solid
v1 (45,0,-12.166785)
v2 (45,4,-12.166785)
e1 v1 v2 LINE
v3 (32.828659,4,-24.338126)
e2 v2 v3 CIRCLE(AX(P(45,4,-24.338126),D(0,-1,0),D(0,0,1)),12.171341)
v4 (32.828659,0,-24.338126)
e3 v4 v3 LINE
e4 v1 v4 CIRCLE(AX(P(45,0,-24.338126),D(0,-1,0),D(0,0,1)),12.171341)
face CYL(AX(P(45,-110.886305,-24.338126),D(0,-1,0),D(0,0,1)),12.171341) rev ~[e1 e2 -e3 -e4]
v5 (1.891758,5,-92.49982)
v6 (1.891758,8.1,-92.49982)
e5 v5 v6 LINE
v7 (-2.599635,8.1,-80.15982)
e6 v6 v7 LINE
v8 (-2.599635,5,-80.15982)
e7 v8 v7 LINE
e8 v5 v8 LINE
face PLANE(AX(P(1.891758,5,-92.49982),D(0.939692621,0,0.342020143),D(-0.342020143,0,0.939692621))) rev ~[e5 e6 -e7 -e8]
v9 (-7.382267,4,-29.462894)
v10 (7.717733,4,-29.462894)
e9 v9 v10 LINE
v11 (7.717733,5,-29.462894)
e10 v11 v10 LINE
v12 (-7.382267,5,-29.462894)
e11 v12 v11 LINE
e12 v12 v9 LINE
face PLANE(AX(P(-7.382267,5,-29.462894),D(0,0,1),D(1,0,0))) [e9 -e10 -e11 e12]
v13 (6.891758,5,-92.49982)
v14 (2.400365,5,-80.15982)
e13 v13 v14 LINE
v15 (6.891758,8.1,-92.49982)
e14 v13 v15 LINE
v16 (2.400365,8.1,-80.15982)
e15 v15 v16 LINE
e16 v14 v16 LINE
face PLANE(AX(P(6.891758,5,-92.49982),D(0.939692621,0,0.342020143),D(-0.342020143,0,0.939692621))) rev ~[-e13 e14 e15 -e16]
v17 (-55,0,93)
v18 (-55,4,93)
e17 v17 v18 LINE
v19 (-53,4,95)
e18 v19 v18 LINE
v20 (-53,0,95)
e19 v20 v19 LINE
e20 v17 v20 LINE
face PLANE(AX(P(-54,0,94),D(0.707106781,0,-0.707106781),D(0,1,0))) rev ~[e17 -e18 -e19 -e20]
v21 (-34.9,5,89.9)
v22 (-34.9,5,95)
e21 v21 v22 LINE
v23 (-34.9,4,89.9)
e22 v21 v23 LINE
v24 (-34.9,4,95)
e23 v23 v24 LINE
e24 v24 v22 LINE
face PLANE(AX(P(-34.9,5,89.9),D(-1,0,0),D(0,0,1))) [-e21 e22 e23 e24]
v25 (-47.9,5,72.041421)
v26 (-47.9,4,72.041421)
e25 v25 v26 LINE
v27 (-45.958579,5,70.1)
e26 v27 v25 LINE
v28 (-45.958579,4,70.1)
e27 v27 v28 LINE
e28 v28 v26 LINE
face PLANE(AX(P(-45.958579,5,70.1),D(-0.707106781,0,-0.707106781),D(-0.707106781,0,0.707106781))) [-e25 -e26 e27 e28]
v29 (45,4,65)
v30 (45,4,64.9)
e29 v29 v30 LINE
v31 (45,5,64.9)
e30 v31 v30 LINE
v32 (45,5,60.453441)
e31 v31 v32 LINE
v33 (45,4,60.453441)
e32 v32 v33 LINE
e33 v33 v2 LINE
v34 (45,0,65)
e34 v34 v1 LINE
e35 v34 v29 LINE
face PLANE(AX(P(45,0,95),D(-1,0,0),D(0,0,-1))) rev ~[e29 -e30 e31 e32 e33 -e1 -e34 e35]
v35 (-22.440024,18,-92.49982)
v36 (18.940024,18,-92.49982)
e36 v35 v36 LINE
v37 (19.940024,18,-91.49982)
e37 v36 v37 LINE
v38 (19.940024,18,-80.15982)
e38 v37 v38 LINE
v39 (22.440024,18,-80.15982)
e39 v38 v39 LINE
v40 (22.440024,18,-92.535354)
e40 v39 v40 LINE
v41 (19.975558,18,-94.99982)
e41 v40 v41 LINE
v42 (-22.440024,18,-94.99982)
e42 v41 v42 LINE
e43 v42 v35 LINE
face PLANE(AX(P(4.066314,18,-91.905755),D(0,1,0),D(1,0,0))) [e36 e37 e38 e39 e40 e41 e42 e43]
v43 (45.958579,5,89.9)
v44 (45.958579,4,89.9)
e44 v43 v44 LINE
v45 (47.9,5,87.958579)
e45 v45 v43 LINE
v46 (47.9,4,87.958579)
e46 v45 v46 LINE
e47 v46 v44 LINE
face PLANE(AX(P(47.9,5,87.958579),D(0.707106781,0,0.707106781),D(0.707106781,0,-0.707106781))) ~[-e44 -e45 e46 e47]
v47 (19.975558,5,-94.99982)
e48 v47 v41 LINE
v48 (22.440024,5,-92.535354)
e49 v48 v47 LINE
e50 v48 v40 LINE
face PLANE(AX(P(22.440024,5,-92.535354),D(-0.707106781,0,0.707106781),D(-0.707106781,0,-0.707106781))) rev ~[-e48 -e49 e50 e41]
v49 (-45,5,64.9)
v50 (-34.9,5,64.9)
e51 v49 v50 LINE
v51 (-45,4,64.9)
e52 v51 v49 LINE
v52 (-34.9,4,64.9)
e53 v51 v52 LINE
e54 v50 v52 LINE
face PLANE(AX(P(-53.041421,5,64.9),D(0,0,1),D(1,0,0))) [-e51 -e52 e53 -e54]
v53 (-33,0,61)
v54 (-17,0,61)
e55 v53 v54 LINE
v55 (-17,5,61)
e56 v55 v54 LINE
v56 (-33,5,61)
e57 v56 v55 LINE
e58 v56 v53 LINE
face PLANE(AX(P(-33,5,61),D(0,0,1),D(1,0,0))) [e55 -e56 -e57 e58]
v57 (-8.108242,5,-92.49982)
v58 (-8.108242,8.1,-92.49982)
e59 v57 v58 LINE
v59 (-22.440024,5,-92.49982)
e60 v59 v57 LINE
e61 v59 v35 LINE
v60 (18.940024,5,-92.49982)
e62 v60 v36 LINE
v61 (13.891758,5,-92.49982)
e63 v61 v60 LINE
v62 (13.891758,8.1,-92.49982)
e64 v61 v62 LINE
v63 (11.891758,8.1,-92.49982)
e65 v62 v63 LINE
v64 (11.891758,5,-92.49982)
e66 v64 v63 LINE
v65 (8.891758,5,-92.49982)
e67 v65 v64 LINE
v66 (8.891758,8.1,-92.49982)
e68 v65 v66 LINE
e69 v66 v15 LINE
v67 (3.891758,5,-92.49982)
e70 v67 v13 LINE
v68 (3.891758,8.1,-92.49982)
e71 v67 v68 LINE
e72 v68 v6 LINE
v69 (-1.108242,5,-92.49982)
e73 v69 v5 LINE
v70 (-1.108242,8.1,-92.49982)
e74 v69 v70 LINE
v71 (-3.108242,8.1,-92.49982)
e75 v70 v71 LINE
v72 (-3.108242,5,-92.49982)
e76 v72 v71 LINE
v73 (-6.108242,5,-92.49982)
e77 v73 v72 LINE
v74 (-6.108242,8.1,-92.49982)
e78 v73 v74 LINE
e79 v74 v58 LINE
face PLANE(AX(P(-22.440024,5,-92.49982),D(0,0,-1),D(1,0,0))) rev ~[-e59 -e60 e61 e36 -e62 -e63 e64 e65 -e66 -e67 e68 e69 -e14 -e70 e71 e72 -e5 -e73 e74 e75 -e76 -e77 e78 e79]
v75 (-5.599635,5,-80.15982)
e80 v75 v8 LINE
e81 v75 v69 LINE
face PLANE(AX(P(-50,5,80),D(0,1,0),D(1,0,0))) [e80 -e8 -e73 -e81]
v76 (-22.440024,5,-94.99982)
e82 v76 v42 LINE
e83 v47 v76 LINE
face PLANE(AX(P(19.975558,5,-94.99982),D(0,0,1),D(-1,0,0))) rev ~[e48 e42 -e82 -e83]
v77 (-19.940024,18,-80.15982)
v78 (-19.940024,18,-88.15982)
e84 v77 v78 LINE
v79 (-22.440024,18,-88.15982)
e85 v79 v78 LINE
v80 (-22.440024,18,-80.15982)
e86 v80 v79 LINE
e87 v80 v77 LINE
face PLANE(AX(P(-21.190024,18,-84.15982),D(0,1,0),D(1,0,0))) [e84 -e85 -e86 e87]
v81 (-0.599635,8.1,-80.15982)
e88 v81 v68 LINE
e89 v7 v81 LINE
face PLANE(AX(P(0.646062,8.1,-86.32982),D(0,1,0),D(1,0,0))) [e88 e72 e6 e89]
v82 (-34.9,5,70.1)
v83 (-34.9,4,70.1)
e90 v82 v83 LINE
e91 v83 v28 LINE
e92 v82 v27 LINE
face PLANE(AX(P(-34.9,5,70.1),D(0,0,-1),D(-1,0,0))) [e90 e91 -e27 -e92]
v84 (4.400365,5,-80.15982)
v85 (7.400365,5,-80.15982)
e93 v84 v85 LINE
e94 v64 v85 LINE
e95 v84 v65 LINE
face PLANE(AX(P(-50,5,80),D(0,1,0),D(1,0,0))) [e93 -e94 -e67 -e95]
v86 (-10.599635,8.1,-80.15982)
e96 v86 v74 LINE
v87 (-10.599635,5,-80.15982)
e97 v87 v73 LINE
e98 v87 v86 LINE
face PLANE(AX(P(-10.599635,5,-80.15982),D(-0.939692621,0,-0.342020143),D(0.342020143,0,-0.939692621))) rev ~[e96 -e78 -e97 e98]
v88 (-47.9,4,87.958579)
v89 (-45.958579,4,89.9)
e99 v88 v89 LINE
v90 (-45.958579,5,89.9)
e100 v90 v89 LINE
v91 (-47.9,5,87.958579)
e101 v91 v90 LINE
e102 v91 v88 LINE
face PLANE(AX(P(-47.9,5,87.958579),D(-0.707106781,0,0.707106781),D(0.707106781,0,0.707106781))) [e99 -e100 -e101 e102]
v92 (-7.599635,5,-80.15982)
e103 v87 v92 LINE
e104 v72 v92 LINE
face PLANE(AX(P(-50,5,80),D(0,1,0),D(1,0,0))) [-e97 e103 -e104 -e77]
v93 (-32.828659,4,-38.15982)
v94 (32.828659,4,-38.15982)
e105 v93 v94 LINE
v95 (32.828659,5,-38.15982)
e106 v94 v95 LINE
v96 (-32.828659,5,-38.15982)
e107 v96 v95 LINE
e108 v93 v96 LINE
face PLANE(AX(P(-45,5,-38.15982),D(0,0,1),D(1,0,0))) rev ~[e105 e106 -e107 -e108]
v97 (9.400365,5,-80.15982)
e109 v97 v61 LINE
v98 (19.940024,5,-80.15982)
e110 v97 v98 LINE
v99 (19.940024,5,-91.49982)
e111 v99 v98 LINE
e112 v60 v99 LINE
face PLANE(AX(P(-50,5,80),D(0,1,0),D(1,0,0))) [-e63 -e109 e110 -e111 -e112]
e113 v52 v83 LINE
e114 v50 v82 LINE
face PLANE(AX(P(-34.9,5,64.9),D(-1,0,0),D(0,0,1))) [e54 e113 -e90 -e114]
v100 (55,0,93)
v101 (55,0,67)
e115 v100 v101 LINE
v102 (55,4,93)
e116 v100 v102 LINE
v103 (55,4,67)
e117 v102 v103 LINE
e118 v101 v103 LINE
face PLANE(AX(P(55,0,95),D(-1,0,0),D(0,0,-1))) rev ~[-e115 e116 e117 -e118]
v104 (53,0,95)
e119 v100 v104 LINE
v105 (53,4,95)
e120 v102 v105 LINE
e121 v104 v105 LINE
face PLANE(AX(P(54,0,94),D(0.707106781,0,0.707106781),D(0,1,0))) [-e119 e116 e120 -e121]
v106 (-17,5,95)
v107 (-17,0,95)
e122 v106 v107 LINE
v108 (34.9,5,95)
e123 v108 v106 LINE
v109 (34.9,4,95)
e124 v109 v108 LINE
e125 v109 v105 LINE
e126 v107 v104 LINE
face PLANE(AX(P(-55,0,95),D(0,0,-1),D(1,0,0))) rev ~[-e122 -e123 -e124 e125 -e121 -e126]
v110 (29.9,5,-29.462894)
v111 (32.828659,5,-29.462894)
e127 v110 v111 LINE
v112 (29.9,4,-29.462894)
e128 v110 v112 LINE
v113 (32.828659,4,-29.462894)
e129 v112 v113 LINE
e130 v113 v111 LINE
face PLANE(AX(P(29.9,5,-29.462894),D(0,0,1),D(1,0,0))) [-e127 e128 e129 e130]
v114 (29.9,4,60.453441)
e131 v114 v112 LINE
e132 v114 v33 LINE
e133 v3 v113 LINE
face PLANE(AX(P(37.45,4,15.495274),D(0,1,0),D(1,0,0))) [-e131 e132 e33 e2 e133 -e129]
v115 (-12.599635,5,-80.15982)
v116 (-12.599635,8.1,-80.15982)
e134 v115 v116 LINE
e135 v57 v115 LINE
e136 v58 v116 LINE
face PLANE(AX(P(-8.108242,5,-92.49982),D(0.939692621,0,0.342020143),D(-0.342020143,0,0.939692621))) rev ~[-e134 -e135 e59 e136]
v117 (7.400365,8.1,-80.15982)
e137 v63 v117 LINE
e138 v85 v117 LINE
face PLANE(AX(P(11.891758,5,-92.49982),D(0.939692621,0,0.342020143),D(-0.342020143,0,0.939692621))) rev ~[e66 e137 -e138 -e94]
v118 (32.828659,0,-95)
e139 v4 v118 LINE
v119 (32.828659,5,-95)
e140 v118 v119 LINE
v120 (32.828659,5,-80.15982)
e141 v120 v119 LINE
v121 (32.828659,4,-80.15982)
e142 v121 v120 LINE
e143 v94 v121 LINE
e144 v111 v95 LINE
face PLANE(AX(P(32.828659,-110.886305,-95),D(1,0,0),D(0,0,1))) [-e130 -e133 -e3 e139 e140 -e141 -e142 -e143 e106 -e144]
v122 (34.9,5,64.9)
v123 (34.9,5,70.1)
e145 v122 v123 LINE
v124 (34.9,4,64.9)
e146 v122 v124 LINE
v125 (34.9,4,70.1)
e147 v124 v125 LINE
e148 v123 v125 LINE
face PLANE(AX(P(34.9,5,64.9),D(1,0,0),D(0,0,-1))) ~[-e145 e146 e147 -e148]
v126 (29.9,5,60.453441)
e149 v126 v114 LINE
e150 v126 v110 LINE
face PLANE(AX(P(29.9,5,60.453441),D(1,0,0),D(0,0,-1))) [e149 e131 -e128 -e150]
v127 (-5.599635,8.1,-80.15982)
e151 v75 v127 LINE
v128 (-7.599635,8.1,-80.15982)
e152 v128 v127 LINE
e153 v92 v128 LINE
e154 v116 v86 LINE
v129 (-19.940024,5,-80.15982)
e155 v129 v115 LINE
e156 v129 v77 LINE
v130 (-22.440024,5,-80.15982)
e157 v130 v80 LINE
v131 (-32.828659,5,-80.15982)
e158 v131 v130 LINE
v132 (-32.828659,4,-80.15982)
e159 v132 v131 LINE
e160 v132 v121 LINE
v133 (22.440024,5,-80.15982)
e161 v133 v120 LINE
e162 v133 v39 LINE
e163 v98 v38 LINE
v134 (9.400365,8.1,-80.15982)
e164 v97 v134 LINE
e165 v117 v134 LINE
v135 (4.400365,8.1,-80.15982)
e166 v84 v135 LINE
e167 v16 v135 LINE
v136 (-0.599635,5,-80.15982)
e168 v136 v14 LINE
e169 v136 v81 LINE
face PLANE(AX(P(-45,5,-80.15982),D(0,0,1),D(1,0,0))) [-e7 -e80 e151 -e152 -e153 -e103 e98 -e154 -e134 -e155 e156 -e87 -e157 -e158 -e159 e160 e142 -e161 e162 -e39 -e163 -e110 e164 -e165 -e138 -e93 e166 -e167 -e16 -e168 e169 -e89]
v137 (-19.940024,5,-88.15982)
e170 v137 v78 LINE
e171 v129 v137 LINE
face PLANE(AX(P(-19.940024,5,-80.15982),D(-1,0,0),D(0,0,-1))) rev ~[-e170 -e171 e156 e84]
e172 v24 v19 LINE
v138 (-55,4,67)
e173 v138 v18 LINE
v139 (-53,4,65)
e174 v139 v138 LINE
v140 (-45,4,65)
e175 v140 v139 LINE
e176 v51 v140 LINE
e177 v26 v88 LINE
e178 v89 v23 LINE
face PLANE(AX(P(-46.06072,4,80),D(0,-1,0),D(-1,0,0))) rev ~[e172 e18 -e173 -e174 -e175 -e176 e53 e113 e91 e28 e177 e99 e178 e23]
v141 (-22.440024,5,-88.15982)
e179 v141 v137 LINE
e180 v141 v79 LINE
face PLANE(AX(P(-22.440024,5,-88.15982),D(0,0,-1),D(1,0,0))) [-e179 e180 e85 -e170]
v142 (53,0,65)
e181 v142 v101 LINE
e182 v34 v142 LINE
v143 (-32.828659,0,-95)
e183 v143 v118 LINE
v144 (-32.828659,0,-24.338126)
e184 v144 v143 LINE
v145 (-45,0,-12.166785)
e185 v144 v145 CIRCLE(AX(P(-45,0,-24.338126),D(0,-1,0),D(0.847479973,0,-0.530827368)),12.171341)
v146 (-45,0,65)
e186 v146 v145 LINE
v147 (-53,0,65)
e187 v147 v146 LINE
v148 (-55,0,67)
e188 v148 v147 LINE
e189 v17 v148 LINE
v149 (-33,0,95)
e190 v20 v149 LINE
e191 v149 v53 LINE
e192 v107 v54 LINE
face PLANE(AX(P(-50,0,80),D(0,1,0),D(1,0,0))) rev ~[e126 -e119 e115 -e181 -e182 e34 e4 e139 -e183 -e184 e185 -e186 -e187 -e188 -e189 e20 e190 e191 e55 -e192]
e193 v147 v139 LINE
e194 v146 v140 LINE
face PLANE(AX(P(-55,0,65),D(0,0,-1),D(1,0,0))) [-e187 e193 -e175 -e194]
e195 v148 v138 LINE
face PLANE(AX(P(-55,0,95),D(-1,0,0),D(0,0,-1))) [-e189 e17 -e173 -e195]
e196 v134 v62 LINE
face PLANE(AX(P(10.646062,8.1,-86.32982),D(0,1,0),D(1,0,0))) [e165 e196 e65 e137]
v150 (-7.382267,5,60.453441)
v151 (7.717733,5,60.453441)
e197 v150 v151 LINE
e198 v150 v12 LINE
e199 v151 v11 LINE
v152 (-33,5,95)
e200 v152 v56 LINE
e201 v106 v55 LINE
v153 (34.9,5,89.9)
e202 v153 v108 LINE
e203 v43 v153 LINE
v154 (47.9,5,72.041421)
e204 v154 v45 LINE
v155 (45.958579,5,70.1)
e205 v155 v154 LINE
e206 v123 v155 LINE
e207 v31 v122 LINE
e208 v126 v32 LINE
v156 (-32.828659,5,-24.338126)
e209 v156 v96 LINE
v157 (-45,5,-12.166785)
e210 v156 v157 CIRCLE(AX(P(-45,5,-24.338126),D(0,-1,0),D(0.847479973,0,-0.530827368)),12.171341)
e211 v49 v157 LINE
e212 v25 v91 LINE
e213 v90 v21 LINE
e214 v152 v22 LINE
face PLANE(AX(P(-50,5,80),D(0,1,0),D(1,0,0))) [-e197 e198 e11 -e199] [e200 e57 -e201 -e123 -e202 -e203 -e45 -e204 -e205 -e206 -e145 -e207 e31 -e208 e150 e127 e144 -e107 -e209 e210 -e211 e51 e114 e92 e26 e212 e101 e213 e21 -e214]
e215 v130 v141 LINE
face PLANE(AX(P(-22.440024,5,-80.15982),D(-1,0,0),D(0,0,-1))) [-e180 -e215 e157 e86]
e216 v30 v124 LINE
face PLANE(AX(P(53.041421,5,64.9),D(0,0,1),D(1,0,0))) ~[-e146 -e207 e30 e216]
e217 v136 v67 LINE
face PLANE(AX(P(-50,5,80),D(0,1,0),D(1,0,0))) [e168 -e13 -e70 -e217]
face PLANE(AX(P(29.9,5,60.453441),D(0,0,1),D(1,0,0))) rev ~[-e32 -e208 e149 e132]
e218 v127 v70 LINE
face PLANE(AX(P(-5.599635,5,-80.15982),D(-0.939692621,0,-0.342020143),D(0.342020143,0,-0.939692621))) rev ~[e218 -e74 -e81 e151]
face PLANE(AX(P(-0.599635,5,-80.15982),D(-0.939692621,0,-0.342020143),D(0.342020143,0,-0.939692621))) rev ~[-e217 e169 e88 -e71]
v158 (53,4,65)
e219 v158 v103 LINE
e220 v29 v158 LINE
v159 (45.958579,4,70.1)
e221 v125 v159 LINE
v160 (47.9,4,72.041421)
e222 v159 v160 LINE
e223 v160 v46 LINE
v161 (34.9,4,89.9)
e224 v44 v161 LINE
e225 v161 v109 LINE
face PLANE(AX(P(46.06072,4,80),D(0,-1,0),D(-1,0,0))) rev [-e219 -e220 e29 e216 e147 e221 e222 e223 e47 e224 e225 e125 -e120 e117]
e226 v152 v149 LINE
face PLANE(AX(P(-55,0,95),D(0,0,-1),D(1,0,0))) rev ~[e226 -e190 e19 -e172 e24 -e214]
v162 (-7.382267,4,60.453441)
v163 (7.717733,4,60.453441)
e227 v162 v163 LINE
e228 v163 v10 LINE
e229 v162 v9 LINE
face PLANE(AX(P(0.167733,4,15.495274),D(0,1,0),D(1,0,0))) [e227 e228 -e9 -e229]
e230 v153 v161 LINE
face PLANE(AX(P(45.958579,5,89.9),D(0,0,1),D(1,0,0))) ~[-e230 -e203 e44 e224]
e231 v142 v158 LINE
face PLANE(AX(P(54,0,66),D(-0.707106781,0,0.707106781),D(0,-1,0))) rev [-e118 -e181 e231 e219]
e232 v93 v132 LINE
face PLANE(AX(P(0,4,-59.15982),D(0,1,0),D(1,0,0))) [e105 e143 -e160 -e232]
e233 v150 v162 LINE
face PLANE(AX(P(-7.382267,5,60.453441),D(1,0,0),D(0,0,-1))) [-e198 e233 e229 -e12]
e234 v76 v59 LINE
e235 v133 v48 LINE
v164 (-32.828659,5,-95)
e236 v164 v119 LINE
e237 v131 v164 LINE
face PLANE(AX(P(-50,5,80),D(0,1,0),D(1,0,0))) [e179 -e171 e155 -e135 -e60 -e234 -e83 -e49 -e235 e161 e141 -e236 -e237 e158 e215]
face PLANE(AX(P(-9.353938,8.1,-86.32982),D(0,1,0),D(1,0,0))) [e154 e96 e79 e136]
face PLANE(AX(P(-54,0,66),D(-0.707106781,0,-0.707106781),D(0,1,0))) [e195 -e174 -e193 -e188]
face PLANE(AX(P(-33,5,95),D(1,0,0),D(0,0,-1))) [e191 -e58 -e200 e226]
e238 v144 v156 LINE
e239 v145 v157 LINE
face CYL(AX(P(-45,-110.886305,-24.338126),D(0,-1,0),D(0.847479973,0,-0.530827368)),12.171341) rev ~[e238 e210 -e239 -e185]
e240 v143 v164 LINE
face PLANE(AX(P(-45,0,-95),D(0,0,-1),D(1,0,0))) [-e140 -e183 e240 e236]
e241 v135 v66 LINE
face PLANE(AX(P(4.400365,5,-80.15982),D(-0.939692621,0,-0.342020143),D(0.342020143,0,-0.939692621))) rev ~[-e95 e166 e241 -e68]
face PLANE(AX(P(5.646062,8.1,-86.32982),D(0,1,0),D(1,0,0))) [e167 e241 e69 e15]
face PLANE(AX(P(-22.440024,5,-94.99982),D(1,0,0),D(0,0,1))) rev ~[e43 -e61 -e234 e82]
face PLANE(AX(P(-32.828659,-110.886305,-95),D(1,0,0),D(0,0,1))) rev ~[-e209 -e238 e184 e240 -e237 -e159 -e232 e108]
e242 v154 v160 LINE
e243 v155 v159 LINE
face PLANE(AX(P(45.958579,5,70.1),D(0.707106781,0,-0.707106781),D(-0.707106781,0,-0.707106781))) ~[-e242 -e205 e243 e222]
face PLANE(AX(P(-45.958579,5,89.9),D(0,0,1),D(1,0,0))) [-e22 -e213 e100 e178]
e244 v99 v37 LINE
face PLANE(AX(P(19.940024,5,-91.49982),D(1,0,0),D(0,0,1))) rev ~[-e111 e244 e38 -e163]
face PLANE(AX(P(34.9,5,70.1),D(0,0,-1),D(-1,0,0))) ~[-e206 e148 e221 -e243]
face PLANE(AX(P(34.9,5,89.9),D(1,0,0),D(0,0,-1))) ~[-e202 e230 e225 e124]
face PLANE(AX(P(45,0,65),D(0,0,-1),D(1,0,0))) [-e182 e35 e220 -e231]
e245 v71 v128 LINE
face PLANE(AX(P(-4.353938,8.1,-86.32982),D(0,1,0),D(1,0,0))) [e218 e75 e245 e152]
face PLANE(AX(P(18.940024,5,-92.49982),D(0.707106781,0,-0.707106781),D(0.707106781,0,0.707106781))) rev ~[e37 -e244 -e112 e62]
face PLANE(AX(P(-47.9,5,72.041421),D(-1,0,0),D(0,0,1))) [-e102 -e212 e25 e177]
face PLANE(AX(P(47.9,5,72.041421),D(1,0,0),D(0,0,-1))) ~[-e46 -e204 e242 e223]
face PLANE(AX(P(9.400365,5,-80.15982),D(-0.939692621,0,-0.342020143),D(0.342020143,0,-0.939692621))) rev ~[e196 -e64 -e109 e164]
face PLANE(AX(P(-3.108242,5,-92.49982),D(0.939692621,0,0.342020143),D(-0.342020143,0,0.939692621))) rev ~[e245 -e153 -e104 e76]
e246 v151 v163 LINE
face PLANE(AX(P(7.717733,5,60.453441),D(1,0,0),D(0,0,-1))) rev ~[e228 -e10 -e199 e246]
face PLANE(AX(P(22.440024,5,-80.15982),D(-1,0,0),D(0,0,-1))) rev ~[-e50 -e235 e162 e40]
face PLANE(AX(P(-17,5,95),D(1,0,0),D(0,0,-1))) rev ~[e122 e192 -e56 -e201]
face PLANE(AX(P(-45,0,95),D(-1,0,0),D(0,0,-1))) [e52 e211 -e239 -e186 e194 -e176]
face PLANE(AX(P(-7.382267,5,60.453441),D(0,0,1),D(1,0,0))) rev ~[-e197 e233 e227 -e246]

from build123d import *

# Parameters (mm, degrees)
SKETCH1_W                = 90
SKETCH1_H                = 190
BOSS_EXTRUDE1_DEPTH      = 5
SKETCH2_W                = 10
SKETCH2_H                = 30
BOSS_EXTRUDE2_DEPTH      = 5
CHAMFER1_SIZE            = 2
SKETCH3_W                = 16
SKETCH3_H                = 34
CUT_EXTRUDE1_DEPTH       = 50
SKETCH4_W                = 90
SKETCH4_H                = 42
CUT_EXTRUDE2_DEPTH       = 1
SKETCH7_W                = 15.1
SKETCH7_H                = 89.916335477
CUT_EXTRUDE7_DEPTH       = 1
CUT_EXTRUDE8_DEPTH       = 1
CUT_EXTRUDE9_DEPTH       = 110.886304879
CUT_EXTRUDE9_DEPTH_BACK  = 110.886304879
CUT_EXTRUDE10_DEPTH      = 110.886304879
CUT_EXTRUDE10_DEPTH_BACK = 110.886304879
BOSS_EXTRUDE4_START      = 5
SKETCH17_W               = 2.5
SKETCH17_H               = 8
BOSS_EXTRUDE4_DEPTH      = 13
BOSS_EXTRUDE5_DEPTH      = 3.1


with BuildPart() as part:
    # Sketch1 → Boss-Extrude1 (new body)
    with BuildSketch(Plane(origin=(0, 0, 0), x_dir=(1, 0, 0), z_dir=(0, 1, 0))):
        Rectangle(SKETCH1_W, SKETCH1_H)
    extrude(amount=BOSS_EXTRUDE1_DEPTH)

    # Sketch2 → Boss-Extrude2 (add)
    with BuildSketch(Plane(origin=(0, 0, 0), x_dir=(1, 0, 0), z_dir=(0, 1, 0))):
        with Locations((-50, -80)):
            Rectangle(SKETCH2_W, SKETCH2_H)
        with Locations((50, -80)):
            Rectangle(SKETCH2_W, SKETCH2_H)
    extrude(amount=BOSS_EXTRUDE2_DEPTH)

    # Chamfer1
    chamfer1_edges = [part.edges().sort_by_distance(p)[0] for p in [
        (-55, 2.5, 65),
        (-55, 2.5, 95),
        (55, 2.5, 95),
        (55, 2.5, 65),
    ]]
    chamfer(chamfer1_edges, length=CHAMFER1_SIZE)

    # Sketch3 → Cut-Extrude1 (cut)
    with BuildSketch(Plane(origin=(0, 5, 0), x_dir=(1, 0, 0), z_dir=(0, 1, 0))):
        with Locations((-25, -78)):
            Rectangle(SKETCH3_W, SKETCH3_H)
    extrude(amount=-CUT_EXTRUDE1_DEPTH, mode=Mode.SUBTRACT)

    # Sketch4 → Cut-Extrude2 (cut)
    with BuildSketch(Plane(origin=(0, 5, 0), x_dir=(1, 0, 0), z_dir=(0, 1, 0))):
        with Locations((0, 59.159820088)):
            Rectangle(SKETCH4_W, SKETCH4_H)
    extrude(amount=-CUT_EXTRUDE2_DEPTH, mode=Mode.SUBTRACT)

    # Sketch7 → Cut-Extrude7 (cut)
    with BuildSketch(Plane(origin=(0, 5, 0), x_dir=(1, 0, 0), z_dir=(0, 1, 0))):
        with Locations((37.45, -15.495273531)):
            Rectangle(SKETCH7_W, SKETCH7_H)
        with Locations((0.16773297, -15.495273531)):
            Rectangle(SKETCH7_W, SKETCH7_H)
    extrude(amount=-CUT_EXTRUDE7_DEPTH, mode=Mode.SUBTRACT)

    # Sketch8 → Cut-Extrude8 (cut)
    with BuildSketch(Plane(origin=(0, 5, 0), x_dir=(1, 0, 0), z_dir=(0, 1, 0))):
        Polygon((-34.9, -70.1), (-45.958578644, -70.1), (-47.9, -72.041421356), (-47.9, -87.958578644), (-45.958578644, -89.9), (-34.9, -89.9), (-34.9, -95.1), (-53.041421356, -95.1), (-55.1, -93.041421356), (-55.1, -66.958578644), (-53.041421356, -64.9), (-34.9, -64.9), align=None)
    cut_extrude8 = extrude(amount=-CUT_EXTRUDE8_DEPTH, mode=Mode.SUBTRACT)

    # Mirror1: Cut-Extrude8 across plane
    add(cut_extrude8.mirror(Plane(origin=(0, 0, 0), x_dir=(0, 0, 1), z_dir=(1, 0, 0))), mode=Mode.SUBTRACT)

    # Sketch14 → Cut-Extrude9 (cut, two sides: drawn at the far end of the back side and taken through both)
    with BuildSketch(Plane(origin=(0, 0, 0), x_dir=(1, 0, 0), z_dir=(0, 1, 0)).offset(-CUT_EXTRUDE9_DEPTH_BACK)):
        with BuildLine():
            Line((-45, 47.267125731), (-34.685032462, 30.799006468))
            ThreePointArc((-34.685032462, 30.799006468), (-34.351546651, 18.443044928), (-45, 12.166784925))
            Line((-45, 12.166784925), (-45, 47.267125731))
        make_face()
        with BuildLine():
            Line((45, 47.267125731), (45, 12.166784925))
            ThreePointArc((45, 12.166784925), (34.351546651, 18.443044928), (34.685032462, 30.799006468))
            Line((34.685032462, 30.799006468), (45, 47.267125731))
        make_face()
    extrude(amount=CUT_EXTRUDE9_DEPTH + CUT_EXTRUDE9_DEPTH_BACK, mode=Mode.SUBTRACT)

    # Sketch16 → Cut-Extrude10 (cut, two sides: drawn at the far end of the back side and taken through both)
    with BuildSketch(Plane(origin=(0, 0, 0), x_dir=(1, 0, 0), z_dir=(0, 1, 0)).offset(-CUT_EXTRUDE10_DEPTH_BACK)):
        with BuildLine():
            Line((-32.828659242, 95), (-32.828659242, 24.338125683))
            ThreePointArc((-32.828659242, 24.338125683), (-33.30195485, 27.699267678), (-34.685032462, 30.799006468))
            Line((-34.685032462, 30.799006468), (-45, 47.267125731))
            Line((-45, 47.267125731), (-45, 95))
            Line((-45, 95), (-32.828659242, 95))
        make_face()
        with BuildLine():
            Line((45, 95), (32.828659242, 95))
            Line((32.828659242, 95), (32.828659242, 24.338125683))
            ThreePointArc((32.828659242, 24.338125683), (33.30195485, 27.699267678), (34.685032462, 30.799006468))
            Line((34.685032462, 30.799006468), (45, 47.267125731))
            Line((45, 47.267125731), (45, 95))
        make_face()
    extrude(amount=CUT_EXTRUDE10_DEPTH + CUT_EXTRUDE10_DEPTH_BACK, mode=Mode.SUBTRACT)

    # Sketch17 → Boss-Extrude4 (add)
    with BuildSketch(Plane(origin=(0, 0, 0), x_dir=(1, 0, 0), z_dir=(0, 1, 0)).offset(BOSS_EXTRUDE4_START)):
        with Locations((-21.190023983, 84.159820088)):
            Rectangle(SKETCH17_W, SKETCH17_H)
        Polygon((-22.440023983, 94.999820088), (-22.440023983, 92.499820088), (18.940023983, 92.499820088), (19.940023983, 91.499820088), (19.940023983, 80.159820088), (22.440023983, 80.159820088), (22.440023983, 92.535353994), (19.975557889, 94.999820088), align=None)
    extrude(amount=BOSS_EXTRUDE4_DEPTH)

    # Sketch18 → Boss-Extrude5 (add)
    with BuildSketch(Plane(origin=(0, 5, 0), x_dir=(1, 0, 0), z_dir=(0, 1, 0))):
        Polygon((-12.599634528, 80.159820088), (-10.599634528, 80.159820088), (-6.108241837, 92.499820088), (-8.108241837, 92.499820088), align=None)
        Polygon((-3.108241837, 92.499820088), (-7.599634528, 80.159820088), (-5.599634528, 80.159820088), (-1.108241837, 92.499820088), align=None)
        Polygon((1.891758163, 92.499820088), (-2.599634528, 80.159820088), (-0.599634528, 80.159820088), (3.891758163, 92.499820088), align=None)
        Polygon((6.891758163, 92.499820088), (2.400365472, 80.159820088), (4.400365472, 80.159820088), (8.891758163, 92.499820088), align=None)
        Polygon((11.891758163, 92.499820088), (7.400365472, 80.159820088), (9.400365472, 80.159820088), (13.891758163, 92.499820088), align=None)
    extrude(amount=BOSS_EXTRUDE5_DEPTH)


solid = part.part
